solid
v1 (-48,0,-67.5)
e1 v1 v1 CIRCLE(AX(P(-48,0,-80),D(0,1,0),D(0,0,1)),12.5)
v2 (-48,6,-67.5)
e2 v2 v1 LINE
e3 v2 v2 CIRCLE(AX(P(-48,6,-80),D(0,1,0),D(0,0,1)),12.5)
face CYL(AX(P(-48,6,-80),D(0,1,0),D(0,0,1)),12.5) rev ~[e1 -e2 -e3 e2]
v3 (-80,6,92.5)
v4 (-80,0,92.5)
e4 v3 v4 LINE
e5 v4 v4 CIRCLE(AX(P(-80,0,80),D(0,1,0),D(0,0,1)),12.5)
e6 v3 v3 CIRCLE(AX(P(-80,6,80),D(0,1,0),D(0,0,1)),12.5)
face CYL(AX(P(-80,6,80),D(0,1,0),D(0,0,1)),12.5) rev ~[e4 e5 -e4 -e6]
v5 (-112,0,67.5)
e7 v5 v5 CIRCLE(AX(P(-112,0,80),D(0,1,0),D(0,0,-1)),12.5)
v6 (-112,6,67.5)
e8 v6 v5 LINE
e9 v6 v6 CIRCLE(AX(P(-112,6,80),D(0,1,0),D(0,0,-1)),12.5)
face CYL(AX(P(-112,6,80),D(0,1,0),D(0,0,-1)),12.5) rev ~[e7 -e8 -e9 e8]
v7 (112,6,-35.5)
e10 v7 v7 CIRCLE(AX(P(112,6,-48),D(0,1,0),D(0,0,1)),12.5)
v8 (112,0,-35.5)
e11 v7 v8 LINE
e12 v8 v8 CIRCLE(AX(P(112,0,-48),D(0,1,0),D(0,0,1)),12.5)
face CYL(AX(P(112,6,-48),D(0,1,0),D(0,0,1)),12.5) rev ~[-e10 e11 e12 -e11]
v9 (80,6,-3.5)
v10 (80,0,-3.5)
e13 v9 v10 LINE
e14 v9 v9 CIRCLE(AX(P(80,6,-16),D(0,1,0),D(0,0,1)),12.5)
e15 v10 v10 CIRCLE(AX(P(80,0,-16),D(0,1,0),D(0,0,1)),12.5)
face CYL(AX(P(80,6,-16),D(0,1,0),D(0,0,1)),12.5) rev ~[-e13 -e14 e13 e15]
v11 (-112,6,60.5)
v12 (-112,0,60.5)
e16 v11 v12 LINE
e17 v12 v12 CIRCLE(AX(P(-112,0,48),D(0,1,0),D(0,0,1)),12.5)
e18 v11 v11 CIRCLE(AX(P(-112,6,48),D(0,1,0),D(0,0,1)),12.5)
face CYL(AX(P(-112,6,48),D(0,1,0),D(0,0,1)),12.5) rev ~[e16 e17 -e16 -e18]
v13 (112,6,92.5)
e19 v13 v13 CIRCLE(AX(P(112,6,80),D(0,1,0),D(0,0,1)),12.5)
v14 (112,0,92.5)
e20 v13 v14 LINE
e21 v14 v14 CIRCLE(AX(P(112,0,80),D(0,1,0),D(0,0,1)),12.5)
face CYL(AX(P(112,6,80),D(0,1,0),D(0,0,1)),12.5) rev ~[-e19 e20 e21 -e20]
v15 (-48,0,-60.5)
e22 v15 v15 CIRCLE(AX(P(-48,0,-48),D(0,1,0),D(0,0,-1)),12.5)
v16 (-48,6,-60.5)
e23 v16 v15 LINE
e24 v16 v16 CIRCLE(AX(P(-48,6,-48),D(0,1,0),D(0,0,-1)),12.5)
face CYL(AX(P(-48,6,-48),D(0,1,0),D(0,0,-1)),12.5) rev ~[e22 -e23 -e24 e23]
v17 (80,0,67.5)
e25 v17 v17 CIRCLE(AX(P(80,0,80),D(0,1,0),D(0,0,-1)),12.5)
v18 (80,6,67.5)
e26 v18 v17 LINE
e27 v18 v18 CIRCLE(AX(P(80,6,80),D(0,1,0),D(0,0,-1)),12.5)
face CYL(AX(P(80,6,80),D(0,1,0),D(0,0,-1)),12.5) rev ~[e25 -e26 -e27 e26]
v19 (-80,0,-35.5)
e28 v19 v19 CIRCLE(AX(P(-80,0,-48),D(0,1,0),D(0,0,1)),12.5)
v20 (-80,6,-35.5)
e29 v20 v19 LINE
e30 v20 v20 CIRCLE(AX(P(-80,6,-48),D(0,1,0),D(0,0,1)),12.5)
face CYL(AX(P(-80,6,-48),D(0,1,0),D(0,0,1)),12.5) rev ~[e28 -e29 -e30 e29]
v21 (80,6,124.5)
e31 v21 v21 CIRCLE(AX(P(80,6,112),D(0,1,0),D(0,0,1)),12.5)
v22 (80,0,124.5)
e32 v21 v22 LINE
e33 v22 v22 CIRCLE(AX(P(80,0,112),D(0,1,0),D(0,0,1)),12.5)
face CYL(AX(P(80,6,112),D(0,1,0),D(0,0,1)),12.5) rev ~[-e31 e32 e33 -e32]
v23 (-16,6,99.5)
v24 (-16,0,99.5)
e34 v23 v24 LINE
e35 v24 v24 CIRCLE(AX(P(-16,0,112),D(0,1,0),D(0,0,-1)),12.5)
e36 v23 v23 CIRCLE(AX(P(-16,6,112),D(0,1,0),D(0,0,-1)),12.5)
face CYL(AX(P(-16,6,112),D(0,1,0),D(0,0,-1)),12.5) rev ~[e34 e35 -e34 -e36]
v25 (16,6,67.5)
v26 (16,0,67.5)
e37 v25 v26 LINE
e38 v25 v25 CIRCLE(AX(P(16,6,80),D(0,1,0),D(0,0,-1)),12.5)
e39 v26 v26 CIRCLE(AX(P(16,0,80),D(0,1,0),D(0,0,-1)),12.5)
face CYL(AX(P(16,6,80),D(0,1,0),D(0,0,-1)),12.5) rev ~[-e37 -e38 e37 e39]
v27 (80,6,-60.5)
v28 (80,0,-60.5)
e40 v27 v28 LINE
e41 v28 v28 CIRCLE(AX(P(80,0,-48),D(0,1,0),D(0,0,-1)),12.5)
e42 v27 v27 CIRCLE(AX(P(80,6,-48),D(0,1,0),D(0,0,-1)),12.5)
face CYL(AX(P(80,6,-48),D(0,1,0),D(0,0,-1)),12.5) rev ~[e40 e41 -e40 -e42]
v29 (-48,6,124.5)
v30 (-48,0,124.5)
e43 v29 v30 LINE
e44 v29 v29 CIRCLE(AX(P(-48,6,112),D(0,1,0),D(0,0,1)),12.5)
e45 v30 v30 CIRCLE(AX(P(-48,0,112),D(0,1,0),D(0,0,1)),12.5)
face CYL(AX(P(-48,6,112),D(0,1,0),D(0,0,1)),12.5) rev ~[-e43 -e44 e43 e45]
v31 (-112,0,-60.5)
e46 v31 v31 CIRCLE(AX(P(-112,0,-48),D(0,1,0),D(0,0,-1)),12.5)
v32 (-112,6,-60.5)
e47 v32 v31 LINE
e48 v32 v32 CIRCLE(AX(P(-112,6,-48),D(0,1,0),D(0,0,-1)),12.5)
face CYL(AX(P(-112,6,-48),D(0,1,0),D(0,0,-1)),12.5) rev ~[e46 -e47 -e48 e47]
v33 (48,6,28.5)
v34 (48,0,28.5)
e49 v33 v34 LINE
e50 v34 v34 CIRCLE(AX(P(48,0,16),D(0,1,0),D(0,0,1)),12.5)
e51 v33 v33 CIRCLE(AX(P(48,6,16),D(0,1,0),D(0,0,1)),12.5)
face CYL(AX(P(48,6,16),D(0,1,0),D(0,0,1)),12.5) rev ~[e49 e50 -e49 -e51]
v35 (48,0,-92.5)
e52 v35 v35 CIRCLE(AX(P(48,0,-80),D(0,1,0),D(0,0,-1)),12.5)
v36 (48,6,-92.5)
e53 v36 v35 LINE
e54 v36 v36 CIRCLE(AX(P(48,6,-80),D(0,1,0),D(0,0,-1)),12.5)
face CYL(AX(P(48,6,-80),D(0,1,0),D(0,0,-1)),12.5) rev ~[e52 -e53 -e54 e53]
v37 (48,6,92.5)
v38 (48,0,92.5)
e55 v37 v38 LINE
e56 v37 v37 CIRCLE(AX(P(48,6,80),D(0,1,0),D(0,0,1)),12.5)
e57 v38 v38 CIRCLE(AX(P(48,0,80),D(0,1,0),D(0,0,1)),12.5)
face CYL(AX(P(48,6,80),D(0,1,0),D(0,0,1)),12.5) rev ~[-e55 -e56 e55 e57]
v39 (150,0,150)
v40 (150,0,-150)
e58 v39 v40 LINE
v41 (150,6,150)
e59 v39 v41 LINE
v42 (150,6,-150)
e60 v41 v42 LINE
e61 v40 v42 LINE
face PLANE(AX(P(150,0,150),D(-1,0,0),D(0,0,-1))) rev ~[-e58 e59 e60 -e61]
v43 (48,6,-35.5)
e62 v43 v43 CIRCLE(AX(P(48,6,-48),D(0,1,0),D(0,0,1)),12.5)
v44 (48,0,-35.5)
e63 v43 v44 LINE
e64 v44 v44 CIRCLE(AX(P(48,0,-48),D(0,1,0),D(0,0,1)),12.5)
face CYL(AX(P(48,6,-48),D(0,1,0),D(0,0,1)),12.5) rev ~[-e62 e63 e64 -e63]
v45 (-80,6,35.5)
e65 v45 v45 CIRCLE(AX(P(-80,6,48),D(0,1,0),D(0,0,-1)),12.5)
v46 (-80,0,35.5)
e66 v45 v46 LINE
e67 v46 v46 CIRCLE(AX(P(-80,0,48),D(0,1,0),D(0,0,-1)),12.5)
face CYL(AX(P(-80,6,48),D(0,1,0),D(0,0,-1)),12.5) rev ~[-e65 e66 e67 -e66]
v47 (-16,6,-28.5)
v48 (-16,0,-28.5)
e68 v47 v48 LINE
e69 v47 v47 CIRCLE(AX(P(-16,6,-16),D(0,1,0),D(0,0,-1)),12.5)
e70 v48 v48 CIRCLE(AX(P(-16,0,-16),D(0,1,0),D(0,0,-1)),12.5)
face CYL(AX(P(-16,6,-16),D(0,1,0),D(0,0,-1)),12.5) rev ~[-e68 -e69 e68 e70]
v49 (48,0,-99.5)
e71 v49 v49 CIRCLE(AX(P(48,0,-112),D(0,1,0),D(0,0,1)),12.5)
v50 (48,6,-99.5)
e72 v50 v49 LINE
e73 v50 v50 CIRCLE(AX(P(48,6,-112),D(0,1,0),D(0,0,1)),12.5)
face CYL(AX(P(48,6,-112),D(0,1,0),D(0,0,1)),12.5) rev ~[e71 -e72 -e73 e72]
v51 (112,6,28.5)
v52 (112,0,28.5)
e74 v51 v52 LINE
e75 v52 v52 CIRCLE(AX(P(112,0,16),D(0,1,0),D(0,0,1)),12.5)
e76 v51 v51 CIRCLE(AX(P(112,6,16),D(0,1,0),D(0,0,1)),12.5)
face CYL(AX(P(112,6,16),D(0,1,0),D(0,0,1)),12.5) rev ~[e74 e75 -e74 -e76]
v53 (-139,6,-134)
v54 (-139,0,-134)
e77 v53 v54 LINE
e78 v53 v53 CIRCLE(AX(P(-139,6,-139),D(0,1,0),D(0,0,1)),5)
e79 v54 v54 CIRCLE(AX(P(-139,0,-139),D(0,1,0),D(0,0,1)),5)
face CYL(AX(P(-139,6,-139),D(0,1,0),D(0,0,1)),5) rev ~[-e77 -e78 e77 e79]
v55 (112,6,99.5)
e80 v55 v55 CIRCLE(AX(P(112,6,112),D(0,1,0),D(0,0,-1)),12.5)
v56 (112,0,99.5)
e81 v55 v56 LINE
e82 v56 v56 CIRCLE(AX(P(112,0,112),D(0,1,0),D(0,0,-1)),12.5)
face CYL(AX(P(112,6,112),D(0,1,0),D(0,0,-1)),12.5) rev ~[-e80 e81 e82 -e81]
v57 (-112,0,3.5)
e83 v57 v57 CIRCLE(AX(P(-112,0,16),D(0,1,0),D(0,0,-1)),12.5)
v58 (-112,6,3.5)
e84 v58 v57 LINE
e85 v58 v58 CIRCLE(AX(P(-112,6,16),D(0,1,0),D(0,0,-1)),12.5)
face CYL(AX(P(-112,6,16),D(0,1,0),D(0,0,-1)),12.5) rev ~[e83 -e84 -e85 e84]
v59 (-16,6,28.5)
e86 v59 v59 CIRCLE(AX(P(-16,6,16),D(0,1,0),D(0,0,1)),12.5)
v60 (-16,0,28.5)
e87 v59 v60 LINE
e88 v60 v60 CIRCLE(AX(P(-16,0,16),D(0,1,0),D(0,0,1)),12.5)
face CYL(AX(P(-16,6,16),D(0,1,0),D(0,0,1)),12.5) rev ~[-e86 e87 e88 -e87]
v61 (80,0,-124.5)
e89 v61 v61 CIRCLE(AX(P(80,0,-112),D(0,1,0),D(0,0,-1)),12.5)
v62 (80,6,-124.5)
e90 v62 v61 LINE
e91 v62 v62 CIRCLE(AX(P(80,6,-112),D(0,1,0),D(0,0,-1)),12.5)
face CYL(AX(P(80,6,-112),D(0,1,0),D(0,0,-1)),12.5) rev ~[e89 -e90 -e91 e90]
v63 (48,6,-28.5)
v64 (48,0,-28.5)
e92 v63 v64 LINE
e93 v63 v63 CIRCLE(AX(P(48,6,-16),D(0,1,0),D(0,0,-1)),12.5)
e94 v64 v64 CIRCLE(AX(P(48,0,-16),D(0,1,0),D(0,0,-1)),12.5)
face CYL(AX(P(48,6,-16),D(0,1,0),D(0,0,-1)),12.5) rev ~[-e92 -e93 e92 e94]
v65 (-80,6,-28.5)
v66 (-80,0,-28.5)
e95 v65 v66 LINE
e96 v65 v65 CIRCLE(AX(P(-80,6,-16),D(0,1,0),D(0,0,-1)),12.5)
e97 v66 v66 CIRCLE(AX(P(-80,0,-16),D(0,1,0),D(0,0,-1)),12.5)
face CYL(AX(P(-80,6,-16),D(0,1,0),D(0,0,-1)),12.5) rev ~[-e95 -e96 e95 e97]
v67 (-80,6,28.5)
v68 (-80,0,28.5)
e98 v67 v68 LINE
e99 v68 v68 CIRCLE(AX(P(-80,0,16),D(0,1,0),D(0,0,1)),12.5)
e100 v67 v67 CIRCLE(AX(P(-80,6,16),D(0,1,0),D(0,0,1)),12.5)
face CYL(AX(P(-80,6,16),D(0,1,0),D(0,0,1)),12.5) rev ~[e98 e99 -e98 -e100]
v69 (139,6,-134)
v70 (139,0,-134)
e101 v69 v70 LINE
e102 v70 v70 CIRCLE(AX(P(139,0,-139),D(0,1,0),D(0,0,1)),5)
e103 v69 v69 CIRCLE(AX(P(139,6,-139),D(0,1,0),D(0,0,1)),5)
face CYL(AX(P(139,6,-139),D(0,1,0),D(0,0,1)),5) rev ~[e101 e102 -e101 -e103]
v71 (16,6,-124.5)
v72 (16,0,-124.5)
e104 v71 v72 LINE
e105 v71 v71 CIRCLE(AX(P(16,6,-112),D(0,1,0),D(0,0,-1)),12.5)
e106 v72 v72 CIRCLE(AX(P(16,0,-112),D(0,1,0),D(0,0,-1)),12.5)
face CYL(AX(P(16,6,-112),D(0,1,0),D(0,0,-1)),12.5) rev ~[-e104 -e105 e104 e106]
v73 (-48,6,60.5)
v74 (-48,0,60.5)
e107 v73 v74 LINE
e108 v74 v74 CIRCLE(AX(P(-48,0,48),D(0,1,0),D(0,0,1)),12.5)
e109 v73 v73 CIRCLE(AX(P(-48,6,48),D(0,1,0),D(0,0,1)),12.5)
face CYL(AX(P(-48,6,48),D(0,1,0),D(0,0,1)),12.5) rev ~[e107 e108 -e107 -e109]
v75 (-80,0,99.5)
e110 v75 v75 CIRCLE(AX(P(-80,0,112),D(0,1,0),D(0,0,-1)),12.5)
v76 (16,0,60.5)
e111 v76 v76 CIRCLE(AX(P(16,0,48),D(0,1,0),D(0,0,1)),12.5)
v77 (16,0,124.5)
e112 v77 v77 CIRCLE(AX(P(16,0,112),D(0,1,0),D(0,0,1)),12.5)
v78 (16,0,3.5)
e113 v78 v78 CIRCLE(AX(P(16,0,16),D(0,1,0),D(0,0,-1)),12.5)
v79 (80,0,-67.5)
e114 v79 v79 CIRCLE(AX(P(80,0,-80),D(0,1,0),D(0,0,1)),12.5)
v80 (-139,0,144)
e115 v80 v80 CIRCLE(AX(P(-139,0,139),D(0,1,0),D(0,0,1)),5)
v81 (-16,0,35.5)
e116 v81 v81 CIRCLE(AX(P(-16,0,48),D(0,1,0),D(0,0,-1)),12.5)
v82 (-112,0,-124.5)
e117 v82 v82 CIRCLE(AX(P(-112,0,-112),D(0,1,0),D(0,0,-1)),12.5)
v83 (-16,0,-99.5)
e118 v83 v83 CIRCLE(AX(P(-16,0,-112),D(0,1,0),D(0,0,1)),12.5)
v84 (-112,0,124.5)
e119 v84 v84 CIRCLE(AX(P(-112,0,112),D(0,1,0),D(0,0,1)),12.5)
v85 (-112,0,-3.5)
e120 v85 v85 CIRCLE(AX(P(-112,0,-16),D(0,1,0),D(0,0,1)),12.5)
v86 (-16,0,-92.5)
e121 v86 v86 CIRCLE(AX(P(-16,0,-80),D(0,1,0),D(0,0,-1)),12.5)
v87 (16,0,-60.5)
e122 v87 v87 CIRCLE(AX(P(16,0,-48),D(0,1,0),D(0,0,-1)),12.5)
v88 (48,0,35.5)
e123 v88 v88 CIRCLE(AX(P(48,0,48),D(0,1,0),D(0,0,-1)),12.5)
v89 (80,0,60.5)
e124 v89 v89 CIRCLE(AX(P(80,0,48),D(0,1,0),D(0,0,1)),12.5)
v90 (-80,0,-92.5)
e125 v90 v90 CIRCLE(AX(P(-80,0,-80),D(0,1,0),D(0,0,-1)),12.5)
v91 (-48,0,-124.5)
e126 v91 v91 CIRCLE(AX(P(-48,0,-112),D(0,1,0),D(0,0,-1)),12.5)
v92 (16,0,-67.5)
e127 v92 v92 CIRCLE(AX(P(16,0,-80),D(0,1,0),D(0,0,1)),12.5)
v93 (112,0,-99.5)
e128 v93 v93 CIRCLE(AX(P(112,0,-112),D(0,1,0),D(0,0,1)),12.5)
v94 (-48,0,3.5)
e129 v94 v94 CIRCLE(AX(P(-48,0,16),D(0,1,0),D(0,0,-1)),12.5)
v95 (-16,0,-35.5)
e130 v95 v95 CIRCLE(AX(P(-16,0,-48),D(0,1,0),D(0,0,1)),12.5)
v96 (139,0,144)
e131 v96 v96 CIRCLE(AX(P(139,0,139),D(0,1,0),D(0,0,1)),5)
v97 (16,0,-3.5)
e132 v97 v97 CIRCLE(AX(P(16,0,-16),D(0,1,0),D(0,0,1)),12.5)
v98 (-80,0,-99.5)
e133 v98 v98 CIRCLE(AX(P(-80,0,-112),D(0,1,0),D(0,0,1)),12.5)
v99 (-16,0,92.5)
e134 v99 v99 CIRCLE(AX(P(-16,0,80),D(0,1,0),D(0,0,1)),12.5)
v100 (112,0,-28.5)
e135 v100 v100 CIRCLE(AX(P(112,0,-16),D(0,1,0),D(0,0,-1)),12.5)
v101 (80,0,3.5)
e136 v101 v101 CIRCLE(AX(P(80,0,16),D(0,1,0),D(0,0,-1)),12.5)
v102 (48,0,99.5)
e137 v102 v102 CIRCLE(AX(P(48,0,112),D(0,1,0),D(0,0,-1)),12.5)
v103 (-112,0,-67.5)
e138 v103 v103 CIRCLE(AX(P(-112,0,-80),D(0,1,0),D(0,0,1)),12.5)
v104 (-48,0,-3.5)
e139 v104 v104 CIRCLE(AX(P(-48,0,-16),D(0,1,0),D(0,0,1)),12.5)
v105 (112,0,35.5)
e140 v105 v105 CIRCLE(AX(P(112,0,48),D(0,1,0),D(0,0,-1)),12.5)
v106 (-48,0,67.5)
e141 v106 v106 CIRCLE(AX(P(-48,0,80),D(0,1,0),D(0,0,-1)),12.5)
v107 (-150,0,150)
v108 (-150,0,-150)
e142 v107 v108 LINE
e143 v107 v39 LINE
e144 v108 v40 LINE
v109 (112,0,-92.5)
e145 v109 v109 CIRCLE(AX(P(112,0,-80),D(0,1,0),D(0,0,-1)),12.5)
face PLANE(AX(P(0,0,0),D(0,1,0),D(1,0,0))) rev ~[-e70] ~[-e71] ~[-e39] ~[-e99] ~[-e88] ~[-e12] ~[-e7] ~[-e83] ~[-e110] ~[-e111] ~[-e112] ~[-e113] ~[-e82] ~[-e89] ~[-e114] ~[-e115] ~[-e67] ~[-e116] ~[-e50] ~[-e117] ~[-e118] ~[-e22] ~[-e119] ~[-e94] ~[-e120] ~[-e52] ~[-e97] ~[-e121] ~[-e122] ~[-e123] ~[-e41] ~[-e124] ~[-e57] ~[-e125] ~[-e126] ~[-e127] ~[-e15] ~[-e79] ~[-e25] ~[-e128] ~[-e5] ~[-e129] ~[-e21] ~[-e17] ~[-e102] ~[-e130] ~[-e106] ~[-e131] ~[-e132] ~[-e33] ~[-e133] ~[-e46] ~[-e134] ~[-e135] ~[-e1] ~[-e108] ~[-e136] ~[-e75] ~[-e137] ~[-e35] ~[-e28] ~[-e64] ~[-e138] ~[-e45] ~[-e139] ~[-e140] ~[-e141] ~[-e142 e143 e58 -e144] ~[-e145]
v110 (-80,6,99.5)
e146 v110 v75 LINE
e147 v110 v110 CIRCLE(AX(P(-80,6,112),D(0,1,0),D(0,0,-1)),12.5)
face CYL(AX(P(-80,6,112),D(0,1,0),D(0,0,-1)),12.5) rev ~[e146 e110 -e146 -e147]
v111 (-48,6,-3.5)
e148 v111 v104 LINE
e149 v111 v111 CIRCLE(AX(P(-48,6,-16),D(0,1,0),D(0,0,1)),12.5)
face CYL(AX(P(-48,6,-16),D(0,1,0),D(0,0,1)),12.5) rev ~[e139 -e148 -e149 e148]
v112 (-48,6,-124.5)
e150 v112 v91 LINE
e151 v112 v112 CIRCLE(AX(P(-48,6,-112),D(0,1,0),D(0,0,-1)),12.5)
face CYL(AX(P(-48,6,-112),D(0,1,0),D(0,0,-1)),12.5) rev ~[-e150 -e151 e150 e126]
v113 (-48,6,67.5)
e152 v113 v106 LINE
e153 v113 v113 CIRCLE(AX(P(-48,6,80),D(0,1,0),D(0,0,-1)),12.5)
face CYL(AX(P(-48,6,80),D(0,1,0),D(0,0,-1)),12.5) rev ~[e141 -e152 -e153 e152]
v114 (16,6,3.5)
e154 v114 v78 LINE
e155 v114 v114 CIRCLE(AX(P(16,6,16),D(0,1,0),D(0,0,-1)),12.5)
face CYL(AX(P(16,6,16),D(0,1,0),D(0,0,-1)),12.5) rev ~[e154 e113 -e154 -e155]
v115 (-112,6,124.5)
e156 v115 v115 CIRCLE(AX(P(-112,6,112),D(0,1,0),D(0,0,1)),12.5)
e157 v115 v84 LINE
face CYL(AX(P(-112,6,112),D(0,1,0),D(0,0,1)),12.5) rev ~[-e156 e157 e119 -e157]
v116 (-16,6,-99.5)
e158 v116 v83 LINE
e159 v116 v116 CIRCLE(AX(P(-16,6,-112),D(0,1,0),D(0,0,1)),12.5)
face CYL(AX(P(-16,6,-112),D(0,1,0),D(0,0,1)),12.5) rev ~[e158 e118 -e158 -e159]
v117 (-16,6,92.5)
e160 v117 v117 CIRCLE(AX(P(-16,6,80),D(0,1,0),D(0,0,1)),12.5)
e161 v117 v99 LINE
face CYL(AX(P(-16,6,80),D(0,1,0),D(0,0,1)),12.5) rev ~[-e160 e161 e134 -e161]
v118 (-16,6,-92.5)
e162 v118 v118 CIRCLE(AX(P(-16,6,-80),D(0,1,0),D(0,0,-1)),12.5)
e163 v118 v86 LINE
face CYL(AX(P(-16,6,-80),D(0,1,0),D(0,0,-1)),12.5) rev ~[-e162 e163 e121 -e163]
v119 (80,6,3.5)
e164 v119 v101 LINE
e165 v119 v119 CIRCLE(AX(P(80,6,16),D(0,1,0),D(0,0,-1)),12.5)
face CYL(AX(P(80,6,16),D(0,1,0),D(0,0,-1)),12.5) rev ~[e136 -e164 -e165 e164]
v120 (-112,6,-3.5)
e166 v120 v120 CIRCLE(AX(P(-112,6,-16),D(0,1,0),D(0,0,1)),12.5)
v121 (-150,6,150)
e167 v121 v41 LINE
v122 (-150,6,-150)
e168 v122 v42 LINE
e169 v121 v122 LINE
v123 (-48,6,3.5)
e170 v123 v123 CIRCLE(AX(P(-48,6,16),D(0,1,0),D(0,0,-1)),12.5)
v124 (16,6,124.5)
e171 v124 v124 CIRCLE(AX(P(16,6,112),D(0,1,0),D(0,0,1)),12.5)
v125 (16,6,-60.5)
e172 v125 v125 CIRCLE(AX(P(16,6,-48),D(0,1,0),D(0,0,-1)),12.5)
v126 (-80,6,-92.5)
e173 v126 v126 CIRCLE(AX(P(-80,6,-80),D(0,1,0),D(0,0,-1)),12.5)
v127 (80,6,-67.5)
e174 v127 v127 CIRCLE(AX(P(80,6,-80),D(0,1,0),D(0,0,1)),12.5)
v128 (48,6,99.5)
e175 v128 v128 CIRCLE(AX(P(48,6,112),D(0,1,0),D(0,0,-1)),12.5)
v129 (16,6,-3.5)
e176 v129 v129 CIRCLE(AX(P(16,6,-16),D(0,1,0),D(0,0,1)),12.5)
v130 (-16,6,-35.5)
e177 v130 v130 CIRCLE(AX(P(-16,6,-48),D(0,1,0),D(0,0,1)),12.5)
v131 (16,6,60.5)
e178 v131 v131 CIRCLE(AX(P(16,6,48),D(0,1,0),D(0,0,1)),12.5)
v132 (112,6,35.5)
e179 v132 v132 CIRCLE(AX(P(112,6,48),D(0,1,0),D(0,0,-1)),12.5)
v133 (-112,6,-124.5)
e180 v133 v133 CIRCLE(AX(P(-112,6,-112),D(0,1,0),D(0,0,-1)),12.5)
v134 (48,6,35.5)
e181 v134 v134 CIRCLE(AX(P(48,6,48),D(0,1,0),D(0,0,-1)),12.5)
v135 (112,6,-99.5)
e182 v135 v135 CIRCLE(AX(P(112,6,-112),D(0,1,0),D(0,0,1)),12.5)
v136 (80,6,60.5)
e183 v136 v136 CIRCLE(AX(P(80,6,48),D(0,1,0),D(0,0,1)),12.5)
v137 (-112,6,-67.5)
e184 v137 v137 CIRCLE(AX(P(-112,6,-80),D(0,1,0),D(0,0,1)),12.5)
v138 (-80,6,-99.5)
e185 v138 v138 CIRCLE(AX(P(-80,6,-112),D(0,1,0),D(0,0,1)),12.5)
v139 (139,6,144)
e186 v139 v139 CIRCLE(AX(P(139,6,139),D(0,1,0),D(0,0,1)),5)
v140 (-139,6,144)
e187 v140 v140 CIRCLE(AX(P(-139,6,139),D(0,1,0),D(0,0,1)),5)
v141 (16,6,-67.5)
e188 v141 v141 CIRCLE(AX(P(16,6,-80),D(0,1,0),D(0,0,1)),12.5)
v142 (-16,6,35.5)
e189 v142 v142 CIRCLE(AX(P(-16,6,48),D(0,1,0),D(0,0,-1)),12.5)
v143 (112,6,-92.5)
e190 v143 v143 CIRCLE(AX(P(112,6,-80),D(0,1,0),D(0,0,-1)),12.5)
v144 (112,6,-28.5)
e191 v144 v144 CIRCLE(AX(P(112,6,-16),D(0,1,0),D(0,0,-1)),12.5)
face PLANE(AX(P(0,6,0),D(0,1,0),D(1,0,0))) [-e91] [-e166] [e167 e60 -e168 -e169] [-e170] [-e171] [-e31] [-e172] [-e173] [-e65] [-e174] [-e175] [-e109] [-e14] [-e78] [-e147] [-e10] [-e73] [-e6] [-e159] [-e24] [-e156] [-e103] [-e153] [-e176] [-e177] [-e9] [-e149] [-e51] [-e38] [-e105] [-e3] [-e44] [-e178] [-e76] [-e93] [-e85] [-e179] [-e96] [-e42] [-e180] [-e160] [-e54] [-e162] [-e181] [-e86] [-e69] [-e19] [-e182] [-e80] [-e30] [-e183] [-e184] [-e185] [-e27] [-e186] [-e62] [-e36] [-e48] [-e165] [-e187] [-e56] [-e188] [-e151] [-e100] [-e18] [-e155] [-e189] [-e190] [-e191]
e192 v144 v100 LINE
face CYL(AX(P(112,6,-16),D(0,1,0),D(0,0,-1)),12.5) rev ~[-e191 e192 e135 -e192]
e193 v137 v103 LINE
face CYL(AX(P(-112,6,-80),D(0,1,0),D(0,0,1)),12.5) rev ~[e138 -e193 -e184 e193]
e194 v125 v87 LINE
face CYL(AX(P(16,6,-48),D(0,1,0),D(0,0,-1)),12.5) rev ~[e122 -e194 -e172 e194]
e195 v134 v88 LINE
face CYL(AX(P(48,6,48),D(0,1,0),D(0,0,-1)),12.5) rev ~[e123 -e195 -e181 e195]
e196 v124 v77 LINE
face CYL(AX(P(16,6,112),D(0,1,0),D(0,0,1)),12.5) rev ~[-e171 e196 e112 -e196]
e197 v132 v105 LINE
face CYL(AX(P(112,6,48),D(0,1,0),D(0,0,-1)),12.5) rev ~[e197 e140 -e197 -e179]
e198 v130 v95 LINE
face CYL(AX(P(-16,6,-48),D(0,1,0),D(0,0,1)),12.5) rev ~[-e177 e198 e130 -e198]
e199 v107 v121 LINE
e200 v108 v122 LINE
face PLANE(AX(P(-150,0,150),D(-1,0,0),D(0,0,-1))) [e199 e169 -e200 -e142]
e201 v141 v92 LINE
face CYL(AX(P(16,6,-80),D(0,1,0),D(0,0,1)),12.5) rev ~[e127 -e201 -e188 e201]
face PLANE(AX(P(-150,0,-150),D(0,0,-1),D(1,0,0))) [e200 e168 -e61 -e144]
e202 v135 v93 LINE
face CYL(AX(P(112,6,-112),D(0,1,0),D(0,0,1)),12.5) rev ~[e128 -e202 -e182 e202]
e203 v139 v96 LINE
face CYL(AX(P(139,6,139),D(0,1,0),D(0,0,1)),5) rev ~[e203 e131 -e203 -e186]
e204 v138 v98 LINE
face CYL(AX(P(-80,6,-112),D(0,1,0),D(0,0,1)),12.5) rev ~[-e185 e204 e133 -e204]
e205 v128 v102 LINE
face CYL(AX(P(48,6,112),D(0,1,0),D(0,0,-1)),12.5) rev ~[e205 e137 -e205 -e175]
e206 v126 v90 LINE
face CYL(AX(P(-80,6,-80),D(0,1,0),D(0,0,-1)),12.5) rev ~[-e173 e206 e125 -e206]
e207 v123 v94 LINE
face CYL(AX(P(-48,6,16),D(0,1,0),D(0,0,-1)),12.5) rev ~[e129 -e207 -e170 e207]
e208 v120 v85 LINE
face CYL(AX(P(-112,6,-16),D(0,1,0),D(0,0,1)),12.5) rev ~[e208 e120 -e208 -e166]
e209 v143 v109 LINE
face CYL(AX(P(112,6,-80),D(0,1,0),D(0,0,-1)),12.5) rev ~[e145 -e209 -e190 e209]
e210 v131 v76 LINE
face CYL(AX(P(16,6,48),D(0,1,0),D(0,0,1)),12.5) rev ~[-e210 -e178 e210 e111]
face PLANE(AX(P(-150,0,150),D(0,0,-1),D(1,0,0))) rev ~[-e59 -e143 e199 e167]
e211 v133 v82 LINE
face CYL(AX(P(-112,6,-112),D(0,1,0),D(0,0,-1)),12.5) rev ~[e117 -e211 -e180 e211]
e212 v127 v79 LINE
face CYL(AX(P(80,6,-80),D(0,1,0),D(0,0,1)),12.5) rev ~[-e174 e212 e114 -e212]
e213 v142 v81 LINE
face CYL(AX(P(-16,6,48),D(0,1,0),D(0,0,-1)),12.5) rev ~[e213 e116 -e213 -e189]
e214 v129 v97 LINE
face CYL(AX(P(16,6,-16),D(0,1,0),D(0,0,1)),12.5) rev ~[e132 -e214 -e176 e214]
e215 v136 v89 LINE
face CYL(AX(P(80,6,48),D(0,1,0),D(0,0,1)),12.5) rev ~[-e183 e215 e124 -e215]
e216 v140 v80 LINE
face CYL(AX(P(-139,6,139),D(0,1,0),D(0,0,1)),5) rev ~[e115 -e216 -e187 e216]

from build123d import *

# Parameters (mm, degrees)
ESBO_O1_W                = 300
ESBO_O1_H                = 300
RESSALTO_EXTRUS_O1_DEPTH = 6
ESBO_O2_R                = 5
CORTE_EXTRUS_O1_DEPTH    = 213.216870206
ESBO_O3_R                = 12.5
CORTE_EXTRUS_O2_DEPTH    = 213.216870206


with BuildPart() as part:
    # Esboço1 → Ressalto-extrusão1 (new body)
    with BuildSketch(Plane(origin=(0, 0, 0), x_dir=(1, 0, 0), z_dir=(0, 1, 0))):
        Rectangle(ESBO_O1_W, ESBO_O1_H)
    extrude(amount=RESSALTO_EXTRUS_O1_DEPTH)

    # Esboço2 → Corte-extrusão1 (cut, through all)
    with BuildSketch(Plane(origin=(0, 6, 0), x_dir=(1, 0, 0), z_dir=(0, 1, 0))):
        with Locations(Location((-139, 139, 0), (0, 0, 270))):
            Circle(ESBO_O2_R)
        with Locations(Location((139, 139, 0), (0, 0, 270))):
            Circle(ESBO_O2_R)
        with Locations(Location((139, -139, 0), (0, 0, 270))):
            Circle(ESBO_O2_R)
        with Locations(Location((-139, -139, 0), (0, 0, 270))):
            Circle(ESBO_O2_R)
    extrude(amount=-CORTE_EXTRUS_O1_DEPTH, mode=Mode.SUBTRACT)

    # Esboço3 → Corte-extrusão2 (cut, through all)
    with BuildSketch(Plane(origin=(0, 6, 0), x_dir=(1, 0, 0), z_dir=(0, 1, 0))):
        with Locations(Location((-112, -112, 0), (0, 0, 270))):
            Circle(ESBO_O3_R)
        with Locations(Location((-80, -112, 0), (0, 0, 90))):
            Circle(ESBO_O3_R)
        with Locations(Location((-48, -112, 0), (0, 0, 270))):
            Circle(ESBO_O3_R)
        with Locations(Location((-16, -112, 0), (0, 0, 90))):
            Circle(ESBO_O3_R)
        with Locations(Location((16, -112, 0), (0, 0, 270))):
            Circle(ESBO_O3_R)
        with Locations(Location((48, -112, 0), (0, 0, 90))):
            Circle(ESBO_O3_R)
        with Locations(Location((80, -112, 0), (0, 0, 270))):
            Circle(ESBO_O3_R)
        with Locations(Location((112, -112, 0), (0, 0, 90))):
            Circle(ESBO_O3_R)
        with Locations(Location((112, -80, 0), (0, 0, 270))):
            Circle(ESBO_O3_R)
        with Locations(Location((80, -80, 0), (0, 0, 90))):
            Circle(ESBO_O3_R)
        with Locations(Location((48, -80, 0), (0, 0, 270))):
            Circle(ESBO_O3_R)
        with Locations(Location((16, -80, 0), (0, 0, 90))):
            Circle(ESBO_O3_R)
        with Locations(Location((-16, -80, 0), (0, 0, 270))):
            Circle(ESBO_O3_R)
        with Locations(Location((-48, -80, 0), (0, 0, 90))):
            Circle(ESBO_O3_R)
        with Locations(Location((-80, -80, 0), (0, 0, 270))):
            Circle(ESBO_O3_R)
        with Locations(Location((-112, -80, 0), (0, 0, 90))):
            Circle(ESBO_O3_R)
        with Locations(Location((112, -16, 0), (0, 0, 270))):
            Circle(ESBO_O3_R)
        with Locations(Location((112, -48, 0), (0, 0, 90))):
            Circle(ESBO_O3_R)
        with Locations(Location((80, -16, 0), (0, 0, 90))):
            Circle(ESBO_O3_R)
        with Locations(Location((80, -48, 0), (0, 0, 270))):
            Circle(ESBO_O3_R)
        with Locations(Location((48, -16, 0), (0, 0, 270))):
            Circle(ESBO_O3_R)
        with Locations(Location((48, -48, 0), (0, 0, 90))):
            Circle(ESBO_O3_R)
        with Locations(Location((16, -16, 0), (0, 0, 90))):
            Circle(ESBO_O3_R)
        with Locations(Location((16, -48, 0), (0, 0, 270))):
            Circle(ESBO_O3_R)
        with Locations(Location((-16, -16, 0), (0, 0, 270))):
            Circle(ESBO_O3_R)
        with Locations(Location((-16, -48, 0), (0, 0, 90))):
            Circle(ESBO_O3_R)
        with Locations(Location((-48, -16, 0), (0, 0, 90))):
            Circle(ESBO_O3_R)
        with Locations(Location((-48, -48, 0), (0, 0, 270))):
            Circle(ESBO_O3_R)
        with Locations(Location((-80, -16, 0), (0, 0, 270))):
            Circle(ESBO_O3_R)
        with Locations(Location((-80, -48, 0), (0, 0, 90))):
            Circle(ESBO_O3_R)
        with Locations(Location((-112, -48, 0), (0, 0, 270))):
            Circle(ESBO_O3_R)
        with Locations(Location((-112, -16, 0), (0, 0, 90))):
            Circle(ESBO_O3_R)
        with Locations(Location((-112, 16, 0), (0, 0, 270))):
            Circle(ESBO_O3_R)
        with Locations(Location((-80, 16, 0), (0, 0, 90))):
            Circle(ESBO_O3_R)
        with Locations(Location((-48, 16, 0), (0, 0, 270))):
            Circle(ESBO_O3_R)
        with Locations(Location((-16, 16, 0), (0, 0, 90))):
            Circle(ESBO_O3_R)
        with Locations(Location((16, 16, 0), (0, 0, 270))):
            Circle(ESBO_O3_R)
        with Locations(Location((48, 16, 0), (0, 0, 90))):
            Circle(ESBO_O3_R)
        with Locations(Location((80, 16, 0), (0, 0, 270))):
            Circle(ESBO_O3_R)
        with Locations(Location((112, 16, 0), (0, 0, 90))):
            Circle(ESBO_O3_R)
        with Locations(Location((112, 48, 0), (0, 0, 270))):
            Circle(ESBO_O3_R)
        with Locations(Location((80, 48, 0), (0, 0, 90))):
            Circle(ESBO_O3_R)
        with Locations(Location((48, 48, 0), (0, 0, 270))):
            Circle(ESBO_O3_R)
        with Locations(Location((16, 48, 0), (0, 0, 90))):
            Circle(ESBO_O3_R)
        with Locations(Location((-16, 48, 0), (0, 0, 270))):
            Circle(ESBO_O3_R)
        with Locations(Location((-48, 48, 0), (0, 0, 90))):
            Circle(ESBO_O3_R)
        with Locations(Location((-80, 48, 0), (0, 0, 270))):
            Circle(ESBO_O3_R)
        with Locations(Location((-112, 48, 0), (0, 0, 90))):
            Circle(ESBO_O3_R)
        with Locations(Location((-112, 80, 0), (0, 0, 270))):
            Circle(ESBO_O3_R)
        with Locations(Location((-80, 80, 0), (0, 0, 90))):
            Circle(ESBO_O3_R)
        with Locations(Location((-48, 80, 0), (0, 0, 270))):
            Circle(ESBO_O3_R)
        with Locations(Location((-16, 80, 0), (0, 0, 90))):
            Circle(ESBO_O3_R)
        with Locations(Location((16, 80, 0), (0, 0, 270))):
            Circle(ESBO_O3_R)
        with Locations(Location((48, 80, 0), (0, 0, 90))):
            Circle(ESBO_O3_R)
        with Locations(Location((80, 80, 0), (0, 0, 270))):
            Circle(ESBO_O3_R)
        with Locations(Location((112, 80, 0), (0, 0, 90))):
            Circle(ESBO_O3_R)
        with Locations(Location((112, 112, 0), (0, 0, 270))):
            Circle(ESBO_O3_R)
        with Locations(Location((80, 112, 0), (0, 0, 90))):
            Circle(ESBO_O3_R)
        with Locations(Location((48, 112, 0), (0, 0, 270))):
            Circle(ESBO_O3_R)
        with Locations(Location((16, 112, 0), (0, 0, 90))):
            Circle(ESBO_O3_R)
        with Locations(Location((-16, 112, 0), (0, 0, 270))):
            Circle(ESBO_O3_R)
        with Locations(Location((-48, 112, 0), (0, 0, 90))):
            Circle(ESBO_O3_R)
        with Locations(Location((-80, 112, 0), (0, 0, 270))):
            Circle(ESBO_O3_R)
        with Locations(Location((-112, 112, 0), (0, 0, 90))):
            Circle(ESBO_O3_R)
    extrude(amount=-CORTE_EXTRUS_O2_DEPTH, mode=Mode.SUBTRACT)


solid = part.part
